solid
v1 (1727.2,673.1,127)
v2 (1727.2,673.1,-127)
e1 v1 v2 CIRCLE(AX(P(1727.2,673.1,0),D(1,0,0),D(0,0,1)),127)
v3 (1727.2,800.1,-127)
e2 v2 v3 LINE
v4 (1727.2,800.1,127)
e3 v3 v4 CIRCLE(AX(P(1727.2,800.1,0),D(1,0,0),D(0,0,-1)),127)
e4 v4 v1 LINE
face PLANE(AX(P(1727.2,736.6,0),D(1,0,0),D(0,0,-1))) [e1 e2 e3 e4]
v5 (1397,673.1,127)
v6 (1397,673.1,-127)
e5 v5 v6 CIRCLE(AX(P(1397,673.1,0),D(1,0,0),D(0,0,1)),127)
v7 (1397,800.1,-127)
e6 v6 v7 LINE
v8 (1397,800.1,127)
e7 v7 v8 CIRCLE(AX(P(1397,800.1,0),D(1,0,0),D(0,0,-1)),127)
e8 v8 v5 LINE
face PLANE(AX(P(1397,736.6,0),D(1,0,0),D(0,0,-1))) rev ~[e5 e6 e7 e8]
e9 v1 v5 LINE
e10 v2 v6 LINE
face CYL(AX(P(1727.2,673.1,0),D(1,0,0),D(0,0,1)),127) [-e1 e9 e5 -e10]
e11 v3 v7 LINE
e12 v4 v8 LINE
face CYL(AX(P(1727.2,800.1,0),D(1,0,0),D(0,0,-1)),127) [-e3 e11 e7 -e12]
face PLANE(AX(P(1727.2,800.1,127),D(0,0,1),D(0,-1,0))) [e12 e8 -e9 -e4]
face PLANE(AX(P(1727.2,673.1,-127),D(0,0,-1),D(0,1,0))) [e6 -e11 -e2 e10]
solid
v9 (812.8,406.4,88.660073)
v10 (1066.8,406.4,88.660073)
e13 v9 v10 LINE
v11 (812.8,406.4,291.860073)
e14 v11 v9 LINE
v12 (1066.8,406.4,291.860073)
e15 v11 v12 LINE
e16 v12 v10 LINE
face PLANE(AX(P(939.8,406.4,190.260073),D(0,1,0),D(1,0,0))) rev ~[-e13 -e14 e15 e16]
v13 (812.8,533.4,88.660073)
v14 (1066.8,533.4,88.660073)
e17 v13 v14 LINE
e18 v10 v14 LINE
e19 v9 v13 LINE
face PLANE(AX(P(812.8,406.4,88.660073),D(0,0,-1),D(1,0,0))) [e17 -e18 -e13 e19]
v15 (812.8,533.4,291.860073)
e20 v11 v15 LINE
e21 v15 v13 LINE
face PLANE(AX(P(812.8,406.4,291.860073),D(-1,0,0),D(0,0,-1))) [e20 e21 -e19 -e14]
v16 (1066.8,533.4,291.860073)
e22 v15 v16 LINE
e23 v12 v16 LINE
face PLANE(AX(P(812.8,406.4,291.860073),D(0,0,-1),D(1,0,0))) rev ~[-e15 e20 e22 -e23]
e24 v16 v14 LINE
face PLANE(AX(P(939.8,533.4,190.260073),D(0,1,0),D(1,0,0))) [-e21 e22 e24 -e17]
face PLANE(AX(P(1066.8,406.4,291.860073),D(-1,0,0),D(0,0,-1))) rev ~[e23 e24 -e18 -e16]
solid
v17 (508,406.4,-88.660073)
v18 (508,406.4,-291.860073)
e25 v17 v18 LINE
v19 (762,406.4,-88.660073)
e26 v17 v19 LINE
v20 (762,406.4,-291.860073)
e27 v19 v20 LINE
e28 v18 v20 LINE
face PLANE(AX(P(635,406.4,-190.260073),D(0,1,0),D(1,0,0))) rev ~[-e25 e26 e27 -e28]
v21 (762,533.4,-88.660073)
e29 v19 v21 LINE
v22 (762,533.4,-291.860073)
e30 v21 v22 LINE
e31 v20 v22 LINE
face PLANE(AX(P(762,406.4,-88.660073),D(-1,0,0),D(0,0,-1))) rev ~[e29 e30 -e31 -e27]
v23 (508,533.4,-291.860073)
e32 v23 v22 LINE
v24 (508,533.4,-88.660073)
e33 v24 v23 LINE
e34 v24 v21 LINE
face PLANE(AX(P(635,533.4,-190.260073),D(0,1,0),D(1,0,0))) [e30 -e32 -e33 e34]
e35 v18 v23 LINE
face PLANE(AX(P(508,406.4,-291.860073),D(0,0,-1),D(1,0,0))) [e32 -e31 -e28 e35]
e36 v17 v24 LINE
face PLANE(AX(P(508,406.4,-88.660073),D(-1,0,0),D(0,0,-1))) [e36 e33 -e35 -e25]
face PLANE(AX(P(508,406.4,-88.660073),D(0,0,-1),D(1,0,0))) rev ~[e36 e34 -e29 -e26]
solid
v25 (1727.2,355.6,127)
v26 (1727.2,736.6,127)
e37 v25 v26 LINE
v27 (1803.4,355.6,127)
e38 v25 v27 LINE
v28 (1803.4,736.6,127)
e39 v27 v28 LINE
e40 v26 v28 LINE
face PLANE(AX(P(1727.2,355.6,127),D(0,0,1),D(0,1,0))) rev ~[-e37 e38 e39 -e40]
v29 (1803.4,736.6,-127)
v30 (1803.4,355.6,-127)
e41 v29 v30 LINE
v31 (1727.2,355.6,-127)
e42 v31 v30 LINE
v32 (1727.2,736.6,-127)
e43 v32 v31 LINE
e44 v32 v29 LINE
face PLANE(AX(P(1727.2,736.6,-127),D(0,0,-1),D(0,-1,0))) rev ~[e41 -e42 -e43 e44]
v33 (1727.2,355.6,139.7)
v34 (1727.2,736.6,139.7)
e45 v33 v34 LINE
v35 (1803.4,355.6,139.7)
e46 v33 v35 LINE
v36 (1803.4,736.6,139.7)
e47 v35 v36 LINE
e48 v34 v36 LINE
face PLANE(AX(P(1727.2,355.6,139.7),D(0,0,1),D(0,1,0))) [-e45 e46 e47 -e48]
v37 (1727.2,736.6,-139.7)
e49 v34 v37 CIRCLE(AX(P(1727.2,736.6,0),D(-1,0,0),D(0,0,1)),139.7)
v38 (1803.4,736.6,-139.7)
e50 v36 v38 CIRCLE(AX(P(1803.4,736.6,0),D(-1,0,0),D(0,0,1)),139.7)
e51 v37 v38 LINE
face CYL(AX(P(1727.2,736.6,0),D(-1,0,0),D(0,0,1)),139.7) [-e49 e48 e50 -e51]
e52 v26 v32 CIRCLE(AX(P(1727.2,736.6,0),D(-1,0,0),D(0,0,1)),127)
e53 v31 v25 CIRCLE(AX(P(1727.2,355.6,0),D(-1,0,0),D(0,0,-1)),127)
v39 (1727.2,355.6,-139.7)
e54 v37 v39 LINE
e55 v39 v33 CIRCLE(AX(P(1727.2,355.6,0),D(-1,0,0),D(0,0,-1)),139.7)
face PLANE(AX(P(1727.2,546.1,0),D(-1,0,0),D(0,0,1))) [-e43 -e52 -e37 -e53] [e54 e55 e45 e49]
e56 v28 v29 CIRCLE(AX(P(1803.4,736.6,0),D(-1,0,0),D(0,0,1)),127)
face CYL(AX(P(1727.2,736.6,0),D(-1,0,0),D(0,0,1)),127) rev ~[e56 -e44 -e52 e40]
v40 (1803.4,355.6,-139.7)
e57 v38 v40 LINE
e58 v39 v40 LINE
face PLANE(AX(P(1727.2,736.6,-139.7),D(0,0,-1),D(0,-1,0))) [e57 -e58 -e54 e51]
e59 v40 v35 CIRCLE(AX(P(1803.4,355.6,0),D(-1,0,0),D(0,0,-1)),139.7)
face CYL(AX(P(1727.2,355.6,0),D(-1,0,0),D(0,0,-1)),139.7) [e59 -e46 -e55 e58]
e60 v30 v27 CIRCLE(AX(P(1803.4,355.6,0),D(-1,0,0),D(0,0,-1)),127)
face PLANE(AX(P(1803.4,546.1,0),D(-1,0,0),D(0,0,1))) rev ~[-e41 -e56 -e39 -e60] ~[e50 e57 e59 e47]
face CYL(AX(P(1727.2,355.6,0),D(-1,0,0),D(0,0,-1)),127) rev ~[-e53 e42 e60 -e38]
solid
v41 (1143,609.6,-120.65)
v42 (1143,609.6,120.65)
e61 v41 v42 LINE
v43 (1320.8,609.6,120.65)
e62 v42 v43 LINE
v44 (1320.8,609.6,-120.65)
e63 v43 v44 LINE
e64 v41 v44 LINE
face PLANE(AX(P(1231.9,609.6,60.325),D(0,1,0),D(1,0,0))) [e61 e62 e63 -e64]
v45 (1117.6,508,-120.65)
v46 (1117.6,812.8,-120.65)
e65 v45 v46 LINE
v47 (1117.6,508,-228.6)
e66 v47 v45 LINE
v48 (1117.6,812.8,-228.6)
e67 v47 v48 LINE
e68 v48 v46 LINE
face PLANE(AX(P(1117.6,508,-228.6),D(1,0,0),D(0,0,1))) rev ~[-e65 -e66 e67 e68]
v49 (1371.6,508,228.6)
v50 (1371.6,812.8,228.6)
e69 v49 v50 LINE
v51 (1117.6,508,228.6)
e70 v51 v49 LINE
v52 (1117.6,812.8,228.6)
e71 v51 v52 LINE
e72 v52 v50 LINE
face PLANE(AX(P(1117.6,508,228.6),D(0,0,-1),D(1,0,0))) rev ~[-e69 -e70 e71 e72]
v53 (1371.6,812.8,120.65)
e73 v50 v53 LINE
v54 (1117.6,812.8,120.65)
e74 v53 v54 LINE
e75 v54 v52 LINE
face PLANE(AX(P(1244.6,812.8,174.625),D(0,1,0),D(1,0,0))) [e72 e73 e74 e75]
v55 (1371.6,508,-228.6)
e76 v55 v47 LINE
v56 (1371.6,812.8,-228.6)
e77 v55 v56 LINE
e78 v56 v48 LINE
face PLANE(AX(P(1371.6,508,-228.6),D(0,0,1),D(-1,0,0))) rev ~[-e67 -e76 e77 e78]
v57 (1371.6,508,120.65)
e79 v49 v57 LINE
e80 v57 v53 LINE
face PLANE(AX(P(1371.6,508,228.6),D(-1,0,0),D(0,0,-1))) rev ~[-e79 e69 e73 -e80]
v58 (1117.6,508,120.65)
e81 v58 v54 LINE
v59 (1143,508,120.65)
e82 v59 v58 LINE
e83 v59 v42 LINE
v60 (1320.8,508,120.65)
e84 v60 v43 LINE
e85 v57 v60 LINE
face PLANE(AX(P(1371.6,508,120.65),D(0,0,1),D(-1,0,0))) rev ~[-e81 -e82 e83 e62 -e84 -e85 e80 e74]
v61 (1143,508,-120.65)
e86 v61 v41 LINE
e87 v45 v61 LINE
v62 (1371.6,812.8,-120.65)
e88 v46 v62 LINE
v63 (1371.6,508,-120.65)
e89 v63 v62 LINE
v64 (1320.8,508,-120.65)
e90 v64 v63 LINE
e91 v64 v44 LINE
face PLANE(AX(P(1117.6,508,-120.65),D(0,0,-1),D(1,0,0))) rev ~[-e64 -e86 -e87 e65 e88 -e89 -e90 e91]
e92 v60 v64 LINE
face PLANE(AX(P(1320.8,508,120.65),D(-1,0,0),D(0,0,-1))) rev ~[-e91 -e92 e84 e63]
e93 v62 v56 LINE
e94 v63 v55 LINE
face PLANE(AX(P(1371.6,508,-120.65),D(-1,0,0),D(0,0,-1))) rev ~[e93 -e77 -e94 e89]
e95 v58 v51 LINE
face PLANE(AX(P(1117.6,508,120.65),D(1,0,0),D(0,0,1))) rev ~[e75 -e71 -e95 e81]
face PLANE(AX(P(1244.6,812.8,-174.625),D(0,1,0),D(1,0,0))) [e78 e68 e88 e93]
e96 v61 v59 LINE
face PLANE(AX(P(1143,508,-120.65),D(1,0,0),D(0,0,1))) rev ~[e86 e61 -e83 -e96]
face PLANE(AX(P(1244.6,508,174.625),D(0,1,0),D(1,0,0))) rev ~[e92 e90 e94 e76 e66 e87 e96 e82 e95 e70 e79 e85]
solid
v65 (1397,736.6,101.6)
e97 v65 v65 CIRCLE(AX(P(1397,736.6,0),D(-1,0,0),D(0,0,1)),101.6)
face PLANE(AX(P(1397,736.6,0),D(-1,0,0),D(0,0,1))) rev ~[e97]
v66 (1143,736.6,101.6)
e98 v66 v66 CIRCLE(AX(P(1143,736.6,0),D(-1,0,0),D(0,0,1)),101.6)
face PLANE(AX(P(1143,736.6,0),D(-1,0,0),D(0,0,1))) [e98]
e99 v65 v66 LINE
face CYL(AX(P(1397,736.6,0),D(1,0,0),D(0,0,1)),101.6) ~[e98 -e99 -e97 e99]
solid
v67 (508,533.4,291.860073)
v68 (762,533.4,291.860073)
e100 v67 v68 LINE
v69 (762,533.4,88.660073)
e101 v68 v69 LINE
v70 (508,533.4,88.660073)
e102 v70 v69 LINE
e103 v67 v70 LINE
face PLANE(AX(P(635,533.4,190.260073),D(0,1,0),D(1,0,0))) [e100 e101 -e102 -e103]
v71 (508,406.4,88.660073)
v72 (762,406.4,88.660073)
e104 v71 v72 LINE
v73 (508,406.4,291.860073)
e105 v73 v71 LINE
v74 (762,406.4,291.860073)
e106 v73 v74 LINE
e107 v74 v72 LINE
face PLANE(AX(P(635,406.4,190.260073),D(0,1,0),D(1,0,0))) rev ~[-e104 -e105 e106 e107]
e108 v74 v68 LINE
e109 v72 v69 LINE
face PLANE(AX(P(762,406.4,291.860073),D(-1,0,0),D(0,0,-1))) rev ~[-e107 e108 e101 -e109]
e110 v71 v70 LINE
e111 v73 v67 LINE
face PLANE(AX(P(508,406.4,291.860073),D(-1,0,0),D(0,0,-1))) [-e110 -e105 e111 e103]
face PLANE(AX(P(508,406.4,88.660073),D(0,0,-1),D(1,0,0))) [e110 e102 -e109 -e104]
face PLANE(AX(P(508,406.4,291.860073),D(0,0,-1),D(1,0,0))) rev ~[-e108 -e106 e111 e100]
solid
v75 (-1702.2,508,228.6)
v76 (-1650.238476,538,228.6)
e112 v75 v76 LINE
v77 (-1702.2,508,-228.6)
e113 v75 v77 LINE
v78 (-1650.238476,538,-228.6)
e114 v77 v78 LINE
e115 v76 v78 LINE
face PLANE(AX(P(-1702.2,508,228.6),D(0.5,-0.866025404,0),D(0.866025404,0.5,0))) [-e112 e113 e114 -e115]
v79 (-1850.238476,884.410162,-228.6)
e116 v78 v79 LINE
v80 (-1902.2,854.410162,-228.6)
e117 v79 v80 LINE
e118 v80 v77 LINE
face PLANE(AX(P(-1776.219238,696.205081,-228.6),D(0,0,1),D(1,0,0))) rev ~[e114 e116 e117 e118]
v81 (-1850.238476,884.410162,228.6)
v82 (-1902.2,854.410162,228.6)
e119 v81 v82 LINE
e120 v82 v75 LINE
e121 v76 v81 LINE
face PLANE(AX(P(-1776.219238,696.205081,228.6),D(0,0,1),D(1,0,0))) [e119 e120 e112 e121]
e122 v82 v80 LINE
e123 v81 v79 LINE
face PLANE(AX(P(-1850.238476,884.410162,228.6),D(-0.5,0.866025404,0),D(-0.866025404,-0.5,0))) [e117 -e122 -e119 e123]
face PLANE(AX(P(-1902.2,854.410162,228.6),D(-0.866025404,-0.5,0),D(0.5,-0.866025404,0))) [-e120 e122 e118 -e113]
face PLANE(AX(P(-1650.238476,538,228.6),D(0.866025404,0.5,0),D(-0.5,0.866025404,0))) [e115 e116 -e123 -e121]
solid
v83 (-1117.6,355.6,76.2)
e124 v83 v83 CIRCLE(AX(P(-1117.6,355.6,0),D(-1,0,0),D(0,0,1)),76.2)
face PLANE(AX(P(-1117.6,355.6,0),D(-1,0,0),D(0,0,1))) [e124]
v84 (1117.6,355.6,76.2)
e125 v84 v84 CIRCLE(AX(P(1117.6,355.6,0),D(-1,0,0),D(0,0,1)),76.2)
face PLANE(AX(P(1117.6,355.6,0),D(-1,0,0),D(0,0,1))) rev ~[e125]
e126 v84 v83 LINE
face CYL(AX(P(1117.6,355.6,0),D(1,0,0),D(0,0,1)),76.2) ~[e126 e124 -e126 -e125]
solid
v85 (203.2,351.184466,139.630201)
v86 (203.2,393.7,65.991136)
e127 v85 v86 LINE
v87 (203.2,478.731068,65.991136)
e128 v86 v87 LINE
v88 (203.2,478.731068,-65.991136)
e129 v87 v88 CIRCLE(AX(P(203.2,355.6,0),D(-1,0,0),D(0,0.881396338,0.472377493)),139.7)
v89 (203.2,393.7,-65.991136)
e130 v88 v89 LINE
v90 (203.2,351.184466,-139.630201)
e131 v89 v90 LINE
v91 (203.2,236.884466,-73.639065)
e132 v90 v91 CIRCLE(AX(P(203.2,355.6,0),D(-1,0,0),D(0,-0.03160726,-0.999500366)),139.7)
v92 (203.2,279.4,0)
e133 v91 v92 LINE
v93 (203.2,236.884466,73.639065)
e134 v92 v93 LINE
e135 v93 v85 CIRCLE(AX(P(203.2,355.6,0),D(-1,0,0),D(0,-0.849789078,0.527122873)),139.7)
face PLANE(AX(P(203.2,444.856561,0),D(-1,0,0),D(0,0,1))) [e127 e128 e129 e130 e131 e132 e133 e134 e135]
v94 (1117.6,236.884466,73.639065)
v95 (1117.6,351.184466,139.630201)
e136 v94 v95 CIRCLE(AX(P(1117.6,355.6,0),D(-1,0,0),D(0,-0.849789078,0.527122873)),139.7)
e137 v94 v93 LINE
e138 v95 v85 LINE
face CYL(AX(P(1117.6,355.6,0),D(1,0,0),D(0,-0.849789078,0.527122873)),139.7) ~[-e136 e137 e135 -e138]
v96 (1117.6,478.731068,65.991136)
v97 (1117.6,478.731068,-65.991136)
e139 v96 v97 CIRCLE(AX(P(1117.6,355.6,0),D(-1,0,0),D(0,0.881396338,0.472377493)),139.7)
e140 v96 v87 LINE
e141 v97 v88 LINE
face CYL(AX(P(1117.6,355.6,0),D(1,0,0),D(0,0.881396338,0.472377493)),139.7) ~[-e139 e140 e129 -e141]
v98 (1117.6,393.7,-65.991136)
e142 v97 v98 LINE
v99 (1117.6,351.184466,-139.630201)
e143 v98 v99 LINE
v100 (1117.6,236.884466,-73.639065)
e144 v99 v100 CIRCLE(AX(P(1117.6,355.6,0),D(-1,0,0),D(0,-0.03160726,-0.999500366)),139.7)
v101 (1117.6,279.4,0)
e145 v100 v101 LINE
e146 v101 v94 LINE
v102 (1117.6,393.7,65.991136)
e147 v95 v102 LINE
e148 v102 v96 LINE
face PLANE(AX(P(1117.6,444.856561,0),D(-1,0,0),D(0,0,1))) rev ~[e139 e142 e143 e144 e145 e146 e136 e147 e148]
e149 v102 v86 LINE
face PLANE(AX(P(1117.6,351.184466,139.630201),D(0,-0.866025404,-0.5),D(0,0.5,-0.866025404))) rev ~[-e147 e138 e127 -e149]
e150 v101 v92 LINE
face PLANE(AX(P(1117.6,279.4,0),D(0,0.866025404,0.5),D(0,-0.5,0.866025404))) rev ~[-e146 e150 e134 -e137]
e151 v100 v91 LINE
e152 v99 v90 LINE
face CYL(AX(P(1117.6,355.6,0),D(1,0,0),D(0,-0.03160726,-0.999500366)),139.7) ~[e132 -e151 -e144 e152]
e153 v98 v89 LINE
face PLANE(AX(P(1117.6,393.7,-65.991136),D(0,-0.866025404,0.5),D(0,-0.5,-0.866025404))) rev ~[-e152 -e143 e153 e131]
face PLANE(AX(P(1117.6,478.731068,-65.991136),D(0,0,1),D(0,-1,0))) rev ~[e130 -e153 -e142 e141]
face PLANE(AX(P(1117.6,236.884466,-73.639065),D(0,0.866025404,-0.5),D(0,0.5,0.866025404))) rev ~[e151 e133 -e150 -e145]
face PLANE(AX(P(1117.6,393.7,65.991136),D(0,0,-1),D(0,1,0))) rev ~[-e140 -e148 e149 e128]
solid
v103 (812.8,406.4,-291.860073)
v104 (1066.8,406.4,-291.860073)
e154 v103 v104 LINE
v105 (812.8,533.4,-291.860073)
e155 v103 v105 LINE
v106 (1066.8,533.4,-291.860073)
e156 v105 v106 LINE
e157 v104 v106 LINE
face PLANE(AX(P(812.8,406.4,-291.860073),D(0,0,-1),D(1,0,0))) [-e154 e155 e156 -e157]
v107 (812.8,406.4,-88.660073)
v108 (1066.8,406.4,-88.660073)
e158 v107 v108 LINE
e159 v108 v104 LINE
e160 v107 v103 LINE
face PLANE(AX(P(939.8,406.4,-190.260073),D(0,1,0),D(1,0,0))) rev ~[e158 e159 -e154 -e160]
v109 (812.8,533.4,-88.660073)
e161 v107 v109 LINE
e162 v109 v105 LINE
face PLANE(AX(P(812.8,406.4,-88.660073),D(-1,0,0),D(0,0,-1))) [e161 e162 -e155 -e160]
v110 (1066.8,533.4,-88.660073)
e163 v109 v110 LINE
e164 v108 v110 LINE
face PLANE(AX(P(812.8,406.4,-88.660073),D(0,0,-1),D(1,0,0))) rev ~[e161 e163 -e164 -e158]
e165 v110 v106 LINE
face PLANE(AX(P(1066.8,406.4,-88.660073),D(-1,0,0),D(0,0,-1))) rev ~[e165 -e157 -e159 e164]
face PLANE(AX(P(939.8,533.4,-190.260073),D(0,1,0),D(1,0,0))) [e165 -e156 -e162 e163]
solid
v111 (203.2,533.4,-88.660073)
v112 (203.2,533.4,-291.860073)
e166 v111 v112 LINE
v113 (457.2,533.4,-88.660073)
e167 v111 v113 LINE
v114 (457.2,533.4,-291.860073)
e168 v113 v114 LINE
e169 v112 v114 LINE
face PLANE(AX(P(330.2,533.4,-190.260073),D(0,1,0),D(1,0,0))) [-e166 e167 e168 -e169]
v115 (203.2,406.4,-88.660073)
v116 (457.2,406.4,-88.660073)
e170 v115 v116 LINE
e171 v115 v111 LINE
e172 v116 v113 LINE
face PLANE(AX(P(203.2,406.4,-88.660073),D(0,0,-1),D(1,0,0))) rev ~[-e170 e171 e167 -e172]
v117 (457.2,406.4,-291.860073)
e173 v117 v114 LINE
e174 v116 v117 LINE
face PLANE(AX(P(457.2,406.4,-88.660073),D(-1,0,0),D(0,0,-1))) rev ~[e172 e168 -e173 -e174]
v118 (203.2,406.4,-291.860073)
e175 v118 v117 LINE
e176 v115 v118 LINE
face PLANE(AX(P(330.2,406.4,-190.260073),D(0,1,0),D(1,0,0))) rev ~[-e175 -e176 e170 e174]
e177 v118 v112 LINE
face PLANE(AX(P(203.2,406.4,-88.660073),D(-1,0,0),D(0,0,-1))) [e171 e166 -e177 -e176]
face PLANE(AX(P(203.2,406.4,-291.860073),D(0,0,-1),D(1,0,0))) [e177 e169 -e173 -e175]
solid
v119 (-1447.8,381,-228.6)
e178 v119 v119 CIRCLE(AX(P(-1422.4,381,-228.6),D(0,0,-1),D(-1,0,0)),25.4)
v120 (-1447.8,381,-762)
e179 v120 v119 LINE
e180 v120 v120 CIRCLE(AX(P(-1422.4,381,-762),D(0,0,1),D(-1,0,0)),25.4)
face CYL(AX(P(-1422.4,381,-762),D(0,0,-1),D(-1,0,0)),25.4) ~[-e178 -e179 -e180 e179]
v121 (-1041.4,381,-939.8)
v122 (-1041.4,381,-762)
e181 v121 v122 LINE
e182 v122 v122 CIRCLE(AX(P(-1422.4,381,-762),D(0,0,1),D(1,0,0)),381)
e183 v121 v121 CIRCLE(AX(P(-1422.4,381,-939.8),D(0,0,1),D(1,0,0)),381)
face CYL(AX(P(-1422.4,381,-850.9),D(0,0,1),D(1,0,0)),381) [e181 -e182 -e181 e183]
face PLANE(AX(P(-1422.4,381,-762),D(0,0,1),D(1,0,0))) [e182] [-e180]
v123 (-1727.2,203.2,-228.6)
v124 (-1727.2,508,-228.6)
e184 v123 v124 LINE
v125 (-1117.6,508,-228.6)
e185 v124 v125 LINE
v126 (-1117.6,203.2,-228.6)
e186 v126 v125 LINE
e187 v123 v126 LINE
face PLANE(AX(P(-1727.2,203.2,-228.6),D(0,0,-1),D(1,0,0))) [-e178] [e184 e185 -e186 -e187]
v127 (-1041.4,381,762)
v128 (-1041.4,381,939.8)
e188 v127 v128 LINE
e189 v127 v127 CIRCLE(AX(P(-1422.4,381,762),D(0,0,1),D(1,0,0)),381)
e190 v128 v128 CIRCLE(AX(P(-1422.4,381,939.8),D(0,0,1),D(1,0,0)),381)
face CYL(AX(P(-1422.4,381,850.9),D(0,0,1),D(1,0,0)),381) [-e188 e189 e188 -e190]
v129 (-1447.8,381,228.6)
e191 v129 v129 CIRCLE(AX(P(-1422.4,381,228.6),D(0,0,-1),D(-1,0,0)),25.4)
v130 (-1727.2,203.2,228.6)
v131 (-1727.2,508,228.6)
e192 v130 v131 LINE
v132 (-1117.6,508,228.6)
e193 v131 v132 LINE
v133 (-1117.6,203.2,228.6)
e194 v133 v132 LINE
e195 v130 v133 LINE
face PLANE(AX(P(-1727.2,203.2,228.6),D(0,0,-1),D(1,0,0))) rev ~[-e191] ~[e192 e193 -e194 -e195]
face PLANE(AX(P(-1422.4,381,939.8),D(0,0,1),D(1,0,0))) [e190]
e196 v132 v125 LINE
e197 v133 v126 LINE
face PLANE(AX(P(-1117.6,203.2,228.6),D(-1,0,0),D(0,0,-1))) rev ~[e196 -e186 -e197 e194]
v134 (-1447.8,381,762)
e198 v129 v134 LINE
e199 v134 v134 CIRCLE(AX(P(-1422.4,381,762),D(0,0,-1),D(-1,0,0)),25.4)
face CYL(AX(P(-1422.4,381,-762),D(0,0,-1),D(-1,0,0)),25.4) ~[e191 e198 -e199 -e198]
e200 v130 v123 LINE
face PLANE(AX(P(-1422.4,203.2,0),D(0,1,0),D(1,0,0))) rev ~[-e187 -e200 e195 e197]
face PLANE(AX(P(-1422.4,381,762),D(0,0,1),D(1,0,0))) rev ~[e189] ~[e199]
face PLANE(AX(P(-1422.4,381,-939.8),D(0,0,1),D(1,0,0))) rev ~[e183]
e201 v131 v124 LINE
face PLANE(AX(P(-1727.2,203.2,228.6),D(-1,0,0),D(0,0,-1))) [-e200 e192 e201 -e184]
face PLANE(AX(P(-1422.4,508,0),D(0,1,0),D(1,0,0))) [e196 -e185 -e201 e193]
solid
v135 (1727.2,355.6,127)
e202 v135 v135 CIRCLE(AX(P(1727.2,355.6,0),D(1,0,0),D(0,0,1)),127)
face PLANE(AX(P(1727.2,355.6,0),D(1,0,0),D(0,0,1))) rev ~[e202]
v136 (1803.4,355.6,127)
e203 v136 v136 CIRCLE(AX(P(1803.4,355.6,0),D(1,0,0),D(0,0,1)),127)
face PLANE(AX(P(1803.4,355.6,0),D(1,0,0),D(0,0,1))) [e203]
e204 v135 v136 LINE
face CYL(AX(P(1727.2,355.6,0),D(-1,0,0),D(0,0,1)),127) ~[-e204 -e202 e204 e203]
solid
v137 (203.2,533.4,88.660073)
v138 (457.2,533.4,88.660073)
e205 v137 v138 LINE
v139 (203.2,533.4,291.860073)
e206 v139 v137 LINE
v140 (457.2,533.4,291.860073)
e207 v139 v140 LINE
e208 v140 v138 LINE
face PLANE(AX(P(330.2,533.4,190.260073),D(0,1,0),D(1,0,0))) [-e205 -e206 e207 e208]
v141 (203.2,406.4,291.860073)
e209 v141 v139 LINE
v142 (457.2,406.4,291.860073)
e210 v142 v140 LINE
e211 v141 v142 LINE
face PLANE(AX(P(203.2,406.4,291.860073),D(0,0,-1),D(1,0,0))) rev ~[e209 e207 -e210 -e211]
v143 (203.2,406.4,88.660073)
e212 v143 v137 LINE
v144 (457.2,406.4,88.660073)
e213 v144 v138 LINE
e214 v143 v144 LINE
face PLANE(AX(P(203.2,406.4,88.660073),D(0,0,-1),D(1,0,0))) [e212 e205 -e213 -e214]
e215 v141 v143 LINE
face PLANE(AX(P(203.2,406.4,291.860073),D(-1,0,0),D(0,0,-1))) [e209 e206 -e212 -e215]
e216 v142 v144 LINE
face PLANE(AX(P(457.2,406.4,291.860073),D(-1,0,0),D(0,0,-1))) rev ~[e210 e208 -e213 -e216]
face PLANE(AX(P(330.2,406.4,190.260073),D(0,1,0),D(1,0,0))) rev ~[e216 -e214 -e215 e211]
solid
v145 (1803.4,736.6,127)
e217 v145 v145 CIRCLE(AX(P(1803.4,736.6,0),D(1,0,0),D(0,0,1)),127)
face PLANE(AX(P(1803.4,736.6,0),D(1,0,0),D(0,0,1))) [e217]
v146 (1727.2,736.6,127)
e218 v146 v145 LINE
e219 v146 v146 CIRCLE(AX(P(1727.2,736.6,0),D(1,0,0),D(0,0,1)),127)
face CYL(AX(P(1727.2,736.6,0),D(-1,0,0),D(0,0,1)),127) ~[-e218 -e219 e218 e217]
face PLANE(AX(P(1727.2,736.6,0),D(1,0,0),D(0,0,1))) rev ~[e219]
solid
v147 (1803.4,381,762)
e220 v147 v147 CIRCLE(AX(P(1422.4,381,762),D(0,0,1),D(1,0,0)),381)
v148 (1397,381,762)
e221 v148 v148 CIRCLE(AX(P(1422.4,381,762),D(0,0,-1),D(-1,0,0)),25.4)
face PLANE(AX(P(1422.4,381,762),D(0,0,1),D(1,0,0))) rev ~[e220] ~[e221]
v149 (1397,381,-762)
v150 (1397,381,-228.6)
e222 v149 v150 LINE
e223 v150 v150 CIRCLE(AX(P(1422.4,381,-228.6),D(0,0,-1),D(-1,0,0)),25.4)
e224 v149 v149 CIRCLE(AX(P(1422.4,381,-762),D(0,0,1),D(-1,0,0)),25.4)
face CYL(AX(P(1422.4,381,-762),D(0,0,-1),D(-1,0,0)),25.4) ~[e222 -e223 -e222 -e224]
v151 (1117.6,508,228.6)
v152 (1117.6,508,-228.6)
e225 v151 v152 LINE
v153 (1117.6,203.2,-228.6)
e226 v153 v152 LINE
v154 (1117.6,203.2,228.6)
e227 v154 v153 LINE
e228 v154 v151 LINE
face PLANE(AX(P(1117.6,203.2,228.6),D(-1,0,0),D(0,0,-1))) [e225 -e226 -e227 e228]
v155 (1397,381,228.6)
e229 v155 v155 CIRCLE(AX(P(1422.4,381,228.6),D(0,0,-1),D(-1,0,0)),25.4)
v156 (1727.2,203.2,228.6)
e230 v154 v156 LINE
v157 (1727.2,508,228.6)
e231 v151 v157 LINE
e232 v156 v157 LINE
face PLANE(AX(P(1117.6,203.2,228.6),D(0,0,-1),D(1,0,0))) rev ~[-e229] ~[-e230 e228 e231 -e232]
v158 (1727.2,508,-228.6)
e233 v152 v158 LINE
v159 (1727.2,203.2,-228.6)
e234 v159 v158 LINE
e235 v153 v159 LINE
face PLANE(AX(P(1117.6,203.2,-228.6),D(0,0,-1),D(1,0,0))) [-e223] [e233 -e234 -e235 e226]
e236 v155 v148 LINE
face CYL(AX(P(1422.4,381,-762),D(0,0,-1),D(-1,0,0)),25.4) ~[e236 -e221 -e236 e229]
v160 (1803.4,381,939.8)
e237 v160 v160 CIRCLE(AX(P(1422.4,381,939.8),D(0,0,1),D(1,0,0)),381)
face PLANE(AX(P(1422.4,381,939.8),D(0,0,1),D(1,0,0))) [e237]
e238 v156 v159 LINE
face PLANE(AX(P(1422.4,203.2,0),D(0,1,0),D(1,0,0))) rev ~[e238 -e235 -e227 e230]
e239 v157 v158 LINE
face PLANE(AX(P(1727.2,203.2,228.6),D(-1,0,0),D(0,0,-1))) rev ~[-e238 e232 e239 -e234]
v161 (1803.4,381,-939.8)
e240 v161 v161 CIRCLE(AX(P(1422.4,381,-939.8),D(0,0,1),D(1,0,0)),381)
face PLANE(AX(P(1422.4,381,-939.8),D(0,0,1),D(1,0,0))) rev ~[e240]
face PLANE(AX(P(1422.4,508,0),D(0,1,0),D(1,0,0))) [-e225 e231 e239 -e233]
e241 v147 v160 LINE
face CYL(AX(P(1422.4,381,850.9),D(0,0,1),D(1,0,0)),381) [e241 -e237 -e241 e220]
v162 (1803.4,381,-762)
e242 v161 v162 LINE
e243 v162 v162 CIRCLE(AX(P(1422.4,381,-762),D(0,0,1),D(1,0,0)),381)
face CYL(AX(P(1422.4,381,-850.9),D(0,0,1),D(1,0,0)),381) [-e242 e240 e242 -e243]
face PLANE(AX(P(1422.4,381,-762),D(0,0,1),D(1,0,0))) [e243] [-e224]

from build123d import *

# Parameters (mm, degrees)
SKETCH4_R              = 381
BOSS_EXTRUDE1_DEPTH    = 88.9
BOSS_EXTRUDE1_2_DEPTH  = 88.9
SKETCH3_R              = 381
BOSS_EXTRUDE2_DEPTH    = 88.9
BOSS_EXTRUDE2_2_DEPTH  = 88.9
BOSS_EXTRUDE3_START    = 203.2
SKETCH1_W              = 609.6
SKETCH1_H              = 457.2
BOSS_EXTRUDE3_DEPTH    = 304.8
BOSS_EXTRUDE3_2_DEPTH  = 304.8
SKETCH5_R              = 76.2
BOSS_EXTRUDE4_DEPTH    = 914.4
SKETCH5_3_R            = 76.2
BOSS_EXTRUDE5_DEPTH    = 2235.2
SKETCH6_R              = 127
BOSS_EXTRUDE6_DEPTH    = 76.2
BOSS_EXTRUDE6_2_DEPTH  = 76.2
BOSS_EXTRUDE8_DEPTH    = 330.2
SKETCH9_R              = 101.6
BOSS_EXTRUDE9_DEPTH    = 254
BOSS_EXTRUDE10_DEPTH   = 76.2
SKETCH11_W             = 254
SKETCH11_H             = 203.2
BOSS_EXTRUDE11_DEPTH   = 127
BOSS_EXTRUDE11_2_DEPTH = 127
BOSS_EXTRUDE11_3_DEPTH = 127
BOSS_EXTRUDE11_4_DEPTH = 127
BOSS_EXTRUDE11_5_DEPTH = 127
BOSS_EXTRUDE11_6_DEPTH = 127
BOSS_EXTRUDE12_DEPTH   = 304.8
BOSS_EXTRUDE12_2_DEPTH = 304.8
SKETCH12_3_W           = 177.8
SKETCH12_3_H           = 120.65
BOSS_EXTRUDE13_DEPTH   = 101.6
BOSS_EXTRUDE15_REACH   = 2649.242
SKETCH13_R             = 25.4
BOSS_EXTRUDE16_DEPTH   = 457.2


with BuildPart() as part:
    # Sketch4 → Boss-Extrude1 (new, symmetric)
    with BuildSketch(Plane.XY.offset(-850.9)):
        with Locations((1422.4, 381)):
            Circle(SKETCH4_R)
    extrude(amount=BOSS_EXTRUDE1_DEPTH, both=True)


with BuildPart() as body_2:
    # Sketch4 → Boss-Extrude1 2 (new, symmetric)
    with BuildSketch(Plane.XY.offset(-850.9)):
        with Locations((-1422.4, 381)):
            Circle(SKETCH4_R)
    extrude(amount=BOSS_EXTRUDE1_2_DEPTH, both=True)


with BuildPart() as body_3:
    # Sketch3 → Boss-Extrude2 (new, symmetric)
    with BuildSketch(Plane.XY.offset(850.9)):
        with Locations((1422.4, 381)):
            Circle(SKETCH3_R)
    extrude(amount=BOSS_EXTRUDE2_DEPTH, both=True)


with BuildPart() as body_4:
    # Sketch3 → Boss-Extrude2 2 (new, symmetric)
    with BuildSketch(Plane.XY.offset(850.9)):
        with Locations((-1422.4, 381)):
            Circle(SKETCH3_R)
    extrude(amount=BOSS_EXTRUDE2_2_DEPTH, both=True)

    # Boss-Extrude15: up to this face of the body (flat: up to its plane)
    boss_extrude15_end = Plane(body_4.part.faces().sort_by_distance((-1422.4, 381, 762))[0])
    # Sketch13 → Boss-Extrude15 (add, up to the picked face)
    with BuildSketch(Plane.XY.offset(-762), mode=Mode.PRIVATE) as boss_extrude15_sk1:
        with Locations(Location((-1422.4, 381, 0), (0, 0, 180))):
            Circle(SKETCH13_R)
    boss_extrude15_tool1 = split(extrude(boss_extrude15_sk1.sketch, amount=BOSS_EXTRUDE15_REACH, mode=Mode.PRIVATE), bisect_by=boss_extrude15_end, keep=Keep.BOTH, mode=Mode.PRIVATE)
    # Sketch13 → Boss-Extrude15 (add, up to the picked face)
    with BuildSketch(Plane.XY.offset(-762), mode=Mode.PRIVATE) as boss_extrude15_sk2:
        with Locations(Location((1422.4, 381, 0), (0, 0, 180))):
            Circle(SKETCH13_R)
    boss_extrude15_tool2 = split(extrude(boss_extrude15_sk2.sketch, amount=BOSS_EXTRUDE15_REACH, mode=Mode.PRIVATE), bisect_by=boss_extrude15_end, keep=Keep.BOTH, mode=Mode.PRIVATE)

    add(part.part)  # Boss-Extrude15 merges part

    add(body_2.part)  # Boss-Extrude15 merges body 2

    add(body_3.part)  # Boss-Extrude15 merges body 3


with BuildPart() as body_5:
    # Sketch1 → Boss-Extrude3 (new body)
    with BuildSketch(Plane(origin=(0, 0, 0), x_dir=(1, 0, 0), z_dir=(0, 1, 0)).offset(BOSS_EXTRUDE3_START)):
        with Locations((1422.4, 0)):
            Rectangle(SKETCH1_W, SKETCH1_H)
    extrude(amount=BOSS_EXTRUDE3_DEPTH)


with BuildPart() as body_6:
    # Sketch1 → Boss-Extrude3 2 (new body)
    with BuildSketch(Plane(origin=(0, 0, 0), x_dir=(1, 0, 0), z_dir=(0, 1, 0)).offset(BOSS_EXTRUDE3_START)):
        with Locations((-1422.4, 0)):
            Rectangle(SKETCH1_W, SKETCH1_H)
    extrude(amount=BOSS_EXTRUDE3_2_DEPTH)


with BuildPart() as body_7:
    # Sketch5 → Boss-Extrude4 (new body)
    with BuildSketch(Plane.ZY.offset(-1117.6)):
        with BuildLine():
            Line((-65.991135768, 478.731068378), (-65.991135768, 393.7))
            ThreePointArc((-65.991135768, 393.7), (0, 431.8), (65.991135768, 393.7))
            Line((65.991135768, 393.7), (65.991135768, 478.731068378))
            ThreePointArc((65.991135768, 478.731068378), (0, 495.3), (-65.991135768, 478.731068378))
        make_face()
        with BuildLine():
            Line((139.630201095, 351.184465811), (65.991135768, 393.7))
            ThreePointArc((65.991135768, 393.7), (73.603547963, 375.322011237), (76.2, 355.6))
            ThreePointArc((76.2, 355.6), (53.881536726, 301.718463274), (0, 279.4))
            Line((0, 279.4), (73.639065327, 236.884465811))
            ThreePointArc((73.639065327, 236.884465811), (120.983748909, 285.75), (139.630201095, 351.184465811))
        make_face()
        with BuildLine():
            ThreePointArc((0, 279.4), (-65.991135768, 317.5), (-65.991135768, 393.7))
            Line((-65.991135768, 393.7), (-139.630201095, 351.184465811))
            ThreePointArc((-139.630201095, 351.184465811), (-120.983748909, 285.75), (-73.639065327, 236.884465811))
            Line((-73.639065327, 236.884465811), (0, 279.4))
        make_face()
        with Locations((0, 355.6)):
            Circle(SKETCH5_R)
    extrude(amount=BOSS_EXTRUDE4_DEPTH)


with BuildPart() as body_8:
    # Sketch5<3> → Boss-Extrude5 (new body)
    with BuildSketch(Plane.ZY.offset(-1117.6)):
        with Locations((0, 355.6)):
            Circle(SKETCH5_3_R)
    extrude(amount=BOSS_EXTRUDE5_DEPTH)


with BuildPart() as body_9:
    # Sketch6 → Boss-Extrude6 (new body)
    with BuildSketch(Plane(origin=(1727.2, 0, 0), x_dir=(0, 0, -1), z_dir=(1, 0, 0))):
        with Locations(Location((0, 355.6, 0), (0, 0, 180))):
            Circle(SKETCH6_R)
    extrude(amount=BOSS_EXTRUDE6_DEPTH)


with BuildPart() as body_10:
    # Sketch6 → Boss-Extrude6 2 (new body)
    with BuildSketch(Plane(origin=(1727.2, 0, 0), x_dir=(0, 0, -1), z_dir=(1, 0, 0))):
        with Locations(Location((0, 736.6, 0), (0, 0, 180))):
            Circle(SKETCH6_R)
    extrude(amount=BOSS_EXTRUDE6_2_DEPTH)


with BuildPart() as body_11:
    # Sketch8 → Boss-Extrude8 (new body)
    with BuildSketch(Plane.ZY.offset(-1727.2)):
        with BuildLine():
            Line((-127, 673.1), (-127, 800.1))
            ThreePointArc((-127, 800.1), (0, 927.1), (127, 800.1))
            Line((127, 800.1), (127, 673.1))
            ThreePointArc((127, 673.1), (0, 546.1), (-127, 673.1))
        make_face()
    extrude(amount=BOSS_EXTRUDE8_DEPTH)


with BuildPart() as body_12:
    # Sketch9 → Boss-Extrude9 (new body)
    with BuildSketch(Plane.ZY.offset(-1397)):
        with Locations((0, 736.6)):
            Circle(SKETCH9_R)
    extrude(amount=BOSS_EXTRUDE9_DEPTH)


with BuildPart() as body_13:
    # Sketch6<3> → Boss-Extrude10 (new body)
    with BuildSketch(Plane(origin=(1727.2, 0, 0), x_dir=(0, 0, -1), z_dir=(1, 0, 0))):
        with BuildLine():
            Line((139.7, 736.6), (139.7, 355.6))
            ThreePointArc((139.7, 355.6), (0, 215.9), (-139.7, 355.6))
            Line((-139.7, 355.6), (-139.7, 736.6))
            ThreePointArc((-139.7, 736.6), (0, 876.3), (139.7, 736.6))
        make_face()
        with BuildLine():
            Line((-127, 355.6), (-127, 736.6))
            ThreePointArc((-127, 736.6), (0, 863.6), (127, 736.6))
            Line((127, 736.6), (127, 355.6))
            ThreePointArc((127, 355.6), (0, 228.6), (-127, 355.6))
        make_face(mode=Mode.SUBTRACT)
    extrude(amount=BOSS_EXTRUDE10_DEPTH)


with BuildPart() as body_14:
    # Sketch11 → Boss-Extrude11 (new body)
    with BuildSketch(Plane(origin=(0, 406.4, 0), x_dir=(1, 0, 0), z_dir=(0, 1, 0))):
        with Locations((635, -190.260072631)):
            Rectangle(SKETCH11_W, SKETCH11_H)
    extrude(amount=BOSS_EXTRUDE11_DEPTH)


with BuildPart() as body_15:
    # Sketch11 → Boss-Extrude11 2 (new body)
    with BuildSketch(Plane(origin=(0, 406.4, 0), x_dir=(1, 0, 0), z_dir=(0, 1, 0))):
        with Locations((330.2, -190.260072631)):
            Rectangle(SKETCH11_W, SKETCH11_H)
    extrude(amount=BOSS_EXTRUDE11_2_DEPTH)


with BuildPart() as body_16:
    # Sketch11 → Boss-Extrude11 3 (new body)
    with BuildSketch(Plane(origin=(0, 406.4, 0), x_dir=(1, 0, 0), z_dir=(0, 1, 0))):
        with Locations((939.8, -190.260072631)):
            Rectangle(SKETCH11_W, SKETCH11_H)
    extrude(amount=BOSS_EXTRUDE11_3_DEPTH)


with BuildPart() as body_17:
    # Sketch11 → Boss-Extrude11 4 (new body)
    with BuildSketch(Plane(origin=(0, 406.4, 0), x_dir=(1, 0, 0), z_dir=(0, 1, 0))):
        with Locations((939.8, 190.260072631)):
            Rectangle(SKETCH11_W, SKETCH11_H)
    extrude(amount=BOSS_EXTRUDE11_4_DEPTH)


with BuildPart() as body_18:
    # Sketch11 → Boss-Extrude11 5 (new body)
    with BuildSketch(Plane(origin=(0, 406.4, 0), x_dir=(1, 0, 0), z_dir=(0, 1, 0))):
        with Locations((635, 190.260072631)):
            Rectangle(SKETCH11_W, SKETCH11_H)
    extrude(amount=BOSS_EXTRUDE11_5_DEPTH)


with BuildPart() as body_19:
    # Sketch11 → Boss-Extrude11 6 (new body)
    with BuildSketch(Plane(origin=(0, 406.4, 0), x_dir=(1, 0, 0), z_dir=(0, 1, 0))):
        with Locations((330.2, 190.260072631)):
            Rectangle(SKETCH11_W, SKETCH11_H)
    extrude(amount=BOSS_EXTRUDE11_6_DEPTH)


with BuildPart() as body_20:
    # Sketch12 → Boss-Extrude12 (new body)
    with BuildSketch(Plane(origin=(0, 508, 0), x_dir=(1, 0, 0), z_dir=(0, 1, 0))):
        Polygon((1371.6, 228.6), (1117.6, 228.6), (1117.6, 120.65), (1143, 120.65), (1320.8, 120.65), (1371.6, 120.65), align=None)
    extrude(amount=BOSS_EXTRUDE12_DEPTH)



with BuildPart() as body_21:
    # Sketch12 → Boss-Extrude12 2 (new body)
    with BuildSketch(Plane(origin=(0, 508, 0), x_dir=(1, 0, 0), z_dir=(0, 1, 0))):
        Polygon((1143, -120.65), (1117.6, -120.65), (1117.6, -228.6), (1371.6, -228.6), (1371.6, -120.65), (1320.8, -120.65), align=None)
    extrude(amount=BOSS_EXTRUDE12_2_DEPTH)


with BuildPart() as body_20_1:
    add(body_20.part)

    add(body_21.part)  # Boss-Extrude13 merges body 21
    # Sketch12<3> → Boss-Extrude13 (add)
    with BuildSketch(Plane(origin=(0, 508, 0), x_dir=(1, 0, 0), z_dir=(0, 1, 0))):
        with Locations((1231.9, -60.325)):
            Rectangle(SKETCH12_3_W, SKETCH12_3_H)
        with Locations((1231.9, 60.325)):
            Rectangle(SKETCH12_3_W, SKETCH12_3_H)
    extrude(amount=BOSS_EXTRUDE13_DEPTH)


with BuildPart() as body_4_1:
    add(body_4.part)

    add(body_5.part)  # Boss-Extrude15 merges body 5

    add(body_6.part)  # Boss-Extrude15 merges body 6
    add(boss_extrude15_tool1.solids().sort_by(Axis((-1422.4, 381, -762), (0, 0, 1)))[0])
    add(boss_extrude15_tool2.solids().sort_by(Axis((1422.4, 381, -762), (0, 0, 1)))[0])


with BuildPart() as body_16_2:
    # Sketch15 → Boss-Extrude16 (new body)
    with BuildSketch(Plane.XY.offset(228.6)):
        Polygon((-1902.2, 854.410161514), (-1702.2, 508), (-1650.238475773, 538), (-1850.238475773, 884.410161514), align=None)
    extrude(amount=-BOSS_EXTRUDE16_DEPTH)


solid = Compound([body_7.part, body_8.part, body_9.part, body_10.part, body_11.part, body_12.part, body_13.part, body_14.part, body_15.part, body_16.part, body_17.part, body_18.part, body_19.part, body_20_1.part, body_4_1.part, body_16_2.part])
